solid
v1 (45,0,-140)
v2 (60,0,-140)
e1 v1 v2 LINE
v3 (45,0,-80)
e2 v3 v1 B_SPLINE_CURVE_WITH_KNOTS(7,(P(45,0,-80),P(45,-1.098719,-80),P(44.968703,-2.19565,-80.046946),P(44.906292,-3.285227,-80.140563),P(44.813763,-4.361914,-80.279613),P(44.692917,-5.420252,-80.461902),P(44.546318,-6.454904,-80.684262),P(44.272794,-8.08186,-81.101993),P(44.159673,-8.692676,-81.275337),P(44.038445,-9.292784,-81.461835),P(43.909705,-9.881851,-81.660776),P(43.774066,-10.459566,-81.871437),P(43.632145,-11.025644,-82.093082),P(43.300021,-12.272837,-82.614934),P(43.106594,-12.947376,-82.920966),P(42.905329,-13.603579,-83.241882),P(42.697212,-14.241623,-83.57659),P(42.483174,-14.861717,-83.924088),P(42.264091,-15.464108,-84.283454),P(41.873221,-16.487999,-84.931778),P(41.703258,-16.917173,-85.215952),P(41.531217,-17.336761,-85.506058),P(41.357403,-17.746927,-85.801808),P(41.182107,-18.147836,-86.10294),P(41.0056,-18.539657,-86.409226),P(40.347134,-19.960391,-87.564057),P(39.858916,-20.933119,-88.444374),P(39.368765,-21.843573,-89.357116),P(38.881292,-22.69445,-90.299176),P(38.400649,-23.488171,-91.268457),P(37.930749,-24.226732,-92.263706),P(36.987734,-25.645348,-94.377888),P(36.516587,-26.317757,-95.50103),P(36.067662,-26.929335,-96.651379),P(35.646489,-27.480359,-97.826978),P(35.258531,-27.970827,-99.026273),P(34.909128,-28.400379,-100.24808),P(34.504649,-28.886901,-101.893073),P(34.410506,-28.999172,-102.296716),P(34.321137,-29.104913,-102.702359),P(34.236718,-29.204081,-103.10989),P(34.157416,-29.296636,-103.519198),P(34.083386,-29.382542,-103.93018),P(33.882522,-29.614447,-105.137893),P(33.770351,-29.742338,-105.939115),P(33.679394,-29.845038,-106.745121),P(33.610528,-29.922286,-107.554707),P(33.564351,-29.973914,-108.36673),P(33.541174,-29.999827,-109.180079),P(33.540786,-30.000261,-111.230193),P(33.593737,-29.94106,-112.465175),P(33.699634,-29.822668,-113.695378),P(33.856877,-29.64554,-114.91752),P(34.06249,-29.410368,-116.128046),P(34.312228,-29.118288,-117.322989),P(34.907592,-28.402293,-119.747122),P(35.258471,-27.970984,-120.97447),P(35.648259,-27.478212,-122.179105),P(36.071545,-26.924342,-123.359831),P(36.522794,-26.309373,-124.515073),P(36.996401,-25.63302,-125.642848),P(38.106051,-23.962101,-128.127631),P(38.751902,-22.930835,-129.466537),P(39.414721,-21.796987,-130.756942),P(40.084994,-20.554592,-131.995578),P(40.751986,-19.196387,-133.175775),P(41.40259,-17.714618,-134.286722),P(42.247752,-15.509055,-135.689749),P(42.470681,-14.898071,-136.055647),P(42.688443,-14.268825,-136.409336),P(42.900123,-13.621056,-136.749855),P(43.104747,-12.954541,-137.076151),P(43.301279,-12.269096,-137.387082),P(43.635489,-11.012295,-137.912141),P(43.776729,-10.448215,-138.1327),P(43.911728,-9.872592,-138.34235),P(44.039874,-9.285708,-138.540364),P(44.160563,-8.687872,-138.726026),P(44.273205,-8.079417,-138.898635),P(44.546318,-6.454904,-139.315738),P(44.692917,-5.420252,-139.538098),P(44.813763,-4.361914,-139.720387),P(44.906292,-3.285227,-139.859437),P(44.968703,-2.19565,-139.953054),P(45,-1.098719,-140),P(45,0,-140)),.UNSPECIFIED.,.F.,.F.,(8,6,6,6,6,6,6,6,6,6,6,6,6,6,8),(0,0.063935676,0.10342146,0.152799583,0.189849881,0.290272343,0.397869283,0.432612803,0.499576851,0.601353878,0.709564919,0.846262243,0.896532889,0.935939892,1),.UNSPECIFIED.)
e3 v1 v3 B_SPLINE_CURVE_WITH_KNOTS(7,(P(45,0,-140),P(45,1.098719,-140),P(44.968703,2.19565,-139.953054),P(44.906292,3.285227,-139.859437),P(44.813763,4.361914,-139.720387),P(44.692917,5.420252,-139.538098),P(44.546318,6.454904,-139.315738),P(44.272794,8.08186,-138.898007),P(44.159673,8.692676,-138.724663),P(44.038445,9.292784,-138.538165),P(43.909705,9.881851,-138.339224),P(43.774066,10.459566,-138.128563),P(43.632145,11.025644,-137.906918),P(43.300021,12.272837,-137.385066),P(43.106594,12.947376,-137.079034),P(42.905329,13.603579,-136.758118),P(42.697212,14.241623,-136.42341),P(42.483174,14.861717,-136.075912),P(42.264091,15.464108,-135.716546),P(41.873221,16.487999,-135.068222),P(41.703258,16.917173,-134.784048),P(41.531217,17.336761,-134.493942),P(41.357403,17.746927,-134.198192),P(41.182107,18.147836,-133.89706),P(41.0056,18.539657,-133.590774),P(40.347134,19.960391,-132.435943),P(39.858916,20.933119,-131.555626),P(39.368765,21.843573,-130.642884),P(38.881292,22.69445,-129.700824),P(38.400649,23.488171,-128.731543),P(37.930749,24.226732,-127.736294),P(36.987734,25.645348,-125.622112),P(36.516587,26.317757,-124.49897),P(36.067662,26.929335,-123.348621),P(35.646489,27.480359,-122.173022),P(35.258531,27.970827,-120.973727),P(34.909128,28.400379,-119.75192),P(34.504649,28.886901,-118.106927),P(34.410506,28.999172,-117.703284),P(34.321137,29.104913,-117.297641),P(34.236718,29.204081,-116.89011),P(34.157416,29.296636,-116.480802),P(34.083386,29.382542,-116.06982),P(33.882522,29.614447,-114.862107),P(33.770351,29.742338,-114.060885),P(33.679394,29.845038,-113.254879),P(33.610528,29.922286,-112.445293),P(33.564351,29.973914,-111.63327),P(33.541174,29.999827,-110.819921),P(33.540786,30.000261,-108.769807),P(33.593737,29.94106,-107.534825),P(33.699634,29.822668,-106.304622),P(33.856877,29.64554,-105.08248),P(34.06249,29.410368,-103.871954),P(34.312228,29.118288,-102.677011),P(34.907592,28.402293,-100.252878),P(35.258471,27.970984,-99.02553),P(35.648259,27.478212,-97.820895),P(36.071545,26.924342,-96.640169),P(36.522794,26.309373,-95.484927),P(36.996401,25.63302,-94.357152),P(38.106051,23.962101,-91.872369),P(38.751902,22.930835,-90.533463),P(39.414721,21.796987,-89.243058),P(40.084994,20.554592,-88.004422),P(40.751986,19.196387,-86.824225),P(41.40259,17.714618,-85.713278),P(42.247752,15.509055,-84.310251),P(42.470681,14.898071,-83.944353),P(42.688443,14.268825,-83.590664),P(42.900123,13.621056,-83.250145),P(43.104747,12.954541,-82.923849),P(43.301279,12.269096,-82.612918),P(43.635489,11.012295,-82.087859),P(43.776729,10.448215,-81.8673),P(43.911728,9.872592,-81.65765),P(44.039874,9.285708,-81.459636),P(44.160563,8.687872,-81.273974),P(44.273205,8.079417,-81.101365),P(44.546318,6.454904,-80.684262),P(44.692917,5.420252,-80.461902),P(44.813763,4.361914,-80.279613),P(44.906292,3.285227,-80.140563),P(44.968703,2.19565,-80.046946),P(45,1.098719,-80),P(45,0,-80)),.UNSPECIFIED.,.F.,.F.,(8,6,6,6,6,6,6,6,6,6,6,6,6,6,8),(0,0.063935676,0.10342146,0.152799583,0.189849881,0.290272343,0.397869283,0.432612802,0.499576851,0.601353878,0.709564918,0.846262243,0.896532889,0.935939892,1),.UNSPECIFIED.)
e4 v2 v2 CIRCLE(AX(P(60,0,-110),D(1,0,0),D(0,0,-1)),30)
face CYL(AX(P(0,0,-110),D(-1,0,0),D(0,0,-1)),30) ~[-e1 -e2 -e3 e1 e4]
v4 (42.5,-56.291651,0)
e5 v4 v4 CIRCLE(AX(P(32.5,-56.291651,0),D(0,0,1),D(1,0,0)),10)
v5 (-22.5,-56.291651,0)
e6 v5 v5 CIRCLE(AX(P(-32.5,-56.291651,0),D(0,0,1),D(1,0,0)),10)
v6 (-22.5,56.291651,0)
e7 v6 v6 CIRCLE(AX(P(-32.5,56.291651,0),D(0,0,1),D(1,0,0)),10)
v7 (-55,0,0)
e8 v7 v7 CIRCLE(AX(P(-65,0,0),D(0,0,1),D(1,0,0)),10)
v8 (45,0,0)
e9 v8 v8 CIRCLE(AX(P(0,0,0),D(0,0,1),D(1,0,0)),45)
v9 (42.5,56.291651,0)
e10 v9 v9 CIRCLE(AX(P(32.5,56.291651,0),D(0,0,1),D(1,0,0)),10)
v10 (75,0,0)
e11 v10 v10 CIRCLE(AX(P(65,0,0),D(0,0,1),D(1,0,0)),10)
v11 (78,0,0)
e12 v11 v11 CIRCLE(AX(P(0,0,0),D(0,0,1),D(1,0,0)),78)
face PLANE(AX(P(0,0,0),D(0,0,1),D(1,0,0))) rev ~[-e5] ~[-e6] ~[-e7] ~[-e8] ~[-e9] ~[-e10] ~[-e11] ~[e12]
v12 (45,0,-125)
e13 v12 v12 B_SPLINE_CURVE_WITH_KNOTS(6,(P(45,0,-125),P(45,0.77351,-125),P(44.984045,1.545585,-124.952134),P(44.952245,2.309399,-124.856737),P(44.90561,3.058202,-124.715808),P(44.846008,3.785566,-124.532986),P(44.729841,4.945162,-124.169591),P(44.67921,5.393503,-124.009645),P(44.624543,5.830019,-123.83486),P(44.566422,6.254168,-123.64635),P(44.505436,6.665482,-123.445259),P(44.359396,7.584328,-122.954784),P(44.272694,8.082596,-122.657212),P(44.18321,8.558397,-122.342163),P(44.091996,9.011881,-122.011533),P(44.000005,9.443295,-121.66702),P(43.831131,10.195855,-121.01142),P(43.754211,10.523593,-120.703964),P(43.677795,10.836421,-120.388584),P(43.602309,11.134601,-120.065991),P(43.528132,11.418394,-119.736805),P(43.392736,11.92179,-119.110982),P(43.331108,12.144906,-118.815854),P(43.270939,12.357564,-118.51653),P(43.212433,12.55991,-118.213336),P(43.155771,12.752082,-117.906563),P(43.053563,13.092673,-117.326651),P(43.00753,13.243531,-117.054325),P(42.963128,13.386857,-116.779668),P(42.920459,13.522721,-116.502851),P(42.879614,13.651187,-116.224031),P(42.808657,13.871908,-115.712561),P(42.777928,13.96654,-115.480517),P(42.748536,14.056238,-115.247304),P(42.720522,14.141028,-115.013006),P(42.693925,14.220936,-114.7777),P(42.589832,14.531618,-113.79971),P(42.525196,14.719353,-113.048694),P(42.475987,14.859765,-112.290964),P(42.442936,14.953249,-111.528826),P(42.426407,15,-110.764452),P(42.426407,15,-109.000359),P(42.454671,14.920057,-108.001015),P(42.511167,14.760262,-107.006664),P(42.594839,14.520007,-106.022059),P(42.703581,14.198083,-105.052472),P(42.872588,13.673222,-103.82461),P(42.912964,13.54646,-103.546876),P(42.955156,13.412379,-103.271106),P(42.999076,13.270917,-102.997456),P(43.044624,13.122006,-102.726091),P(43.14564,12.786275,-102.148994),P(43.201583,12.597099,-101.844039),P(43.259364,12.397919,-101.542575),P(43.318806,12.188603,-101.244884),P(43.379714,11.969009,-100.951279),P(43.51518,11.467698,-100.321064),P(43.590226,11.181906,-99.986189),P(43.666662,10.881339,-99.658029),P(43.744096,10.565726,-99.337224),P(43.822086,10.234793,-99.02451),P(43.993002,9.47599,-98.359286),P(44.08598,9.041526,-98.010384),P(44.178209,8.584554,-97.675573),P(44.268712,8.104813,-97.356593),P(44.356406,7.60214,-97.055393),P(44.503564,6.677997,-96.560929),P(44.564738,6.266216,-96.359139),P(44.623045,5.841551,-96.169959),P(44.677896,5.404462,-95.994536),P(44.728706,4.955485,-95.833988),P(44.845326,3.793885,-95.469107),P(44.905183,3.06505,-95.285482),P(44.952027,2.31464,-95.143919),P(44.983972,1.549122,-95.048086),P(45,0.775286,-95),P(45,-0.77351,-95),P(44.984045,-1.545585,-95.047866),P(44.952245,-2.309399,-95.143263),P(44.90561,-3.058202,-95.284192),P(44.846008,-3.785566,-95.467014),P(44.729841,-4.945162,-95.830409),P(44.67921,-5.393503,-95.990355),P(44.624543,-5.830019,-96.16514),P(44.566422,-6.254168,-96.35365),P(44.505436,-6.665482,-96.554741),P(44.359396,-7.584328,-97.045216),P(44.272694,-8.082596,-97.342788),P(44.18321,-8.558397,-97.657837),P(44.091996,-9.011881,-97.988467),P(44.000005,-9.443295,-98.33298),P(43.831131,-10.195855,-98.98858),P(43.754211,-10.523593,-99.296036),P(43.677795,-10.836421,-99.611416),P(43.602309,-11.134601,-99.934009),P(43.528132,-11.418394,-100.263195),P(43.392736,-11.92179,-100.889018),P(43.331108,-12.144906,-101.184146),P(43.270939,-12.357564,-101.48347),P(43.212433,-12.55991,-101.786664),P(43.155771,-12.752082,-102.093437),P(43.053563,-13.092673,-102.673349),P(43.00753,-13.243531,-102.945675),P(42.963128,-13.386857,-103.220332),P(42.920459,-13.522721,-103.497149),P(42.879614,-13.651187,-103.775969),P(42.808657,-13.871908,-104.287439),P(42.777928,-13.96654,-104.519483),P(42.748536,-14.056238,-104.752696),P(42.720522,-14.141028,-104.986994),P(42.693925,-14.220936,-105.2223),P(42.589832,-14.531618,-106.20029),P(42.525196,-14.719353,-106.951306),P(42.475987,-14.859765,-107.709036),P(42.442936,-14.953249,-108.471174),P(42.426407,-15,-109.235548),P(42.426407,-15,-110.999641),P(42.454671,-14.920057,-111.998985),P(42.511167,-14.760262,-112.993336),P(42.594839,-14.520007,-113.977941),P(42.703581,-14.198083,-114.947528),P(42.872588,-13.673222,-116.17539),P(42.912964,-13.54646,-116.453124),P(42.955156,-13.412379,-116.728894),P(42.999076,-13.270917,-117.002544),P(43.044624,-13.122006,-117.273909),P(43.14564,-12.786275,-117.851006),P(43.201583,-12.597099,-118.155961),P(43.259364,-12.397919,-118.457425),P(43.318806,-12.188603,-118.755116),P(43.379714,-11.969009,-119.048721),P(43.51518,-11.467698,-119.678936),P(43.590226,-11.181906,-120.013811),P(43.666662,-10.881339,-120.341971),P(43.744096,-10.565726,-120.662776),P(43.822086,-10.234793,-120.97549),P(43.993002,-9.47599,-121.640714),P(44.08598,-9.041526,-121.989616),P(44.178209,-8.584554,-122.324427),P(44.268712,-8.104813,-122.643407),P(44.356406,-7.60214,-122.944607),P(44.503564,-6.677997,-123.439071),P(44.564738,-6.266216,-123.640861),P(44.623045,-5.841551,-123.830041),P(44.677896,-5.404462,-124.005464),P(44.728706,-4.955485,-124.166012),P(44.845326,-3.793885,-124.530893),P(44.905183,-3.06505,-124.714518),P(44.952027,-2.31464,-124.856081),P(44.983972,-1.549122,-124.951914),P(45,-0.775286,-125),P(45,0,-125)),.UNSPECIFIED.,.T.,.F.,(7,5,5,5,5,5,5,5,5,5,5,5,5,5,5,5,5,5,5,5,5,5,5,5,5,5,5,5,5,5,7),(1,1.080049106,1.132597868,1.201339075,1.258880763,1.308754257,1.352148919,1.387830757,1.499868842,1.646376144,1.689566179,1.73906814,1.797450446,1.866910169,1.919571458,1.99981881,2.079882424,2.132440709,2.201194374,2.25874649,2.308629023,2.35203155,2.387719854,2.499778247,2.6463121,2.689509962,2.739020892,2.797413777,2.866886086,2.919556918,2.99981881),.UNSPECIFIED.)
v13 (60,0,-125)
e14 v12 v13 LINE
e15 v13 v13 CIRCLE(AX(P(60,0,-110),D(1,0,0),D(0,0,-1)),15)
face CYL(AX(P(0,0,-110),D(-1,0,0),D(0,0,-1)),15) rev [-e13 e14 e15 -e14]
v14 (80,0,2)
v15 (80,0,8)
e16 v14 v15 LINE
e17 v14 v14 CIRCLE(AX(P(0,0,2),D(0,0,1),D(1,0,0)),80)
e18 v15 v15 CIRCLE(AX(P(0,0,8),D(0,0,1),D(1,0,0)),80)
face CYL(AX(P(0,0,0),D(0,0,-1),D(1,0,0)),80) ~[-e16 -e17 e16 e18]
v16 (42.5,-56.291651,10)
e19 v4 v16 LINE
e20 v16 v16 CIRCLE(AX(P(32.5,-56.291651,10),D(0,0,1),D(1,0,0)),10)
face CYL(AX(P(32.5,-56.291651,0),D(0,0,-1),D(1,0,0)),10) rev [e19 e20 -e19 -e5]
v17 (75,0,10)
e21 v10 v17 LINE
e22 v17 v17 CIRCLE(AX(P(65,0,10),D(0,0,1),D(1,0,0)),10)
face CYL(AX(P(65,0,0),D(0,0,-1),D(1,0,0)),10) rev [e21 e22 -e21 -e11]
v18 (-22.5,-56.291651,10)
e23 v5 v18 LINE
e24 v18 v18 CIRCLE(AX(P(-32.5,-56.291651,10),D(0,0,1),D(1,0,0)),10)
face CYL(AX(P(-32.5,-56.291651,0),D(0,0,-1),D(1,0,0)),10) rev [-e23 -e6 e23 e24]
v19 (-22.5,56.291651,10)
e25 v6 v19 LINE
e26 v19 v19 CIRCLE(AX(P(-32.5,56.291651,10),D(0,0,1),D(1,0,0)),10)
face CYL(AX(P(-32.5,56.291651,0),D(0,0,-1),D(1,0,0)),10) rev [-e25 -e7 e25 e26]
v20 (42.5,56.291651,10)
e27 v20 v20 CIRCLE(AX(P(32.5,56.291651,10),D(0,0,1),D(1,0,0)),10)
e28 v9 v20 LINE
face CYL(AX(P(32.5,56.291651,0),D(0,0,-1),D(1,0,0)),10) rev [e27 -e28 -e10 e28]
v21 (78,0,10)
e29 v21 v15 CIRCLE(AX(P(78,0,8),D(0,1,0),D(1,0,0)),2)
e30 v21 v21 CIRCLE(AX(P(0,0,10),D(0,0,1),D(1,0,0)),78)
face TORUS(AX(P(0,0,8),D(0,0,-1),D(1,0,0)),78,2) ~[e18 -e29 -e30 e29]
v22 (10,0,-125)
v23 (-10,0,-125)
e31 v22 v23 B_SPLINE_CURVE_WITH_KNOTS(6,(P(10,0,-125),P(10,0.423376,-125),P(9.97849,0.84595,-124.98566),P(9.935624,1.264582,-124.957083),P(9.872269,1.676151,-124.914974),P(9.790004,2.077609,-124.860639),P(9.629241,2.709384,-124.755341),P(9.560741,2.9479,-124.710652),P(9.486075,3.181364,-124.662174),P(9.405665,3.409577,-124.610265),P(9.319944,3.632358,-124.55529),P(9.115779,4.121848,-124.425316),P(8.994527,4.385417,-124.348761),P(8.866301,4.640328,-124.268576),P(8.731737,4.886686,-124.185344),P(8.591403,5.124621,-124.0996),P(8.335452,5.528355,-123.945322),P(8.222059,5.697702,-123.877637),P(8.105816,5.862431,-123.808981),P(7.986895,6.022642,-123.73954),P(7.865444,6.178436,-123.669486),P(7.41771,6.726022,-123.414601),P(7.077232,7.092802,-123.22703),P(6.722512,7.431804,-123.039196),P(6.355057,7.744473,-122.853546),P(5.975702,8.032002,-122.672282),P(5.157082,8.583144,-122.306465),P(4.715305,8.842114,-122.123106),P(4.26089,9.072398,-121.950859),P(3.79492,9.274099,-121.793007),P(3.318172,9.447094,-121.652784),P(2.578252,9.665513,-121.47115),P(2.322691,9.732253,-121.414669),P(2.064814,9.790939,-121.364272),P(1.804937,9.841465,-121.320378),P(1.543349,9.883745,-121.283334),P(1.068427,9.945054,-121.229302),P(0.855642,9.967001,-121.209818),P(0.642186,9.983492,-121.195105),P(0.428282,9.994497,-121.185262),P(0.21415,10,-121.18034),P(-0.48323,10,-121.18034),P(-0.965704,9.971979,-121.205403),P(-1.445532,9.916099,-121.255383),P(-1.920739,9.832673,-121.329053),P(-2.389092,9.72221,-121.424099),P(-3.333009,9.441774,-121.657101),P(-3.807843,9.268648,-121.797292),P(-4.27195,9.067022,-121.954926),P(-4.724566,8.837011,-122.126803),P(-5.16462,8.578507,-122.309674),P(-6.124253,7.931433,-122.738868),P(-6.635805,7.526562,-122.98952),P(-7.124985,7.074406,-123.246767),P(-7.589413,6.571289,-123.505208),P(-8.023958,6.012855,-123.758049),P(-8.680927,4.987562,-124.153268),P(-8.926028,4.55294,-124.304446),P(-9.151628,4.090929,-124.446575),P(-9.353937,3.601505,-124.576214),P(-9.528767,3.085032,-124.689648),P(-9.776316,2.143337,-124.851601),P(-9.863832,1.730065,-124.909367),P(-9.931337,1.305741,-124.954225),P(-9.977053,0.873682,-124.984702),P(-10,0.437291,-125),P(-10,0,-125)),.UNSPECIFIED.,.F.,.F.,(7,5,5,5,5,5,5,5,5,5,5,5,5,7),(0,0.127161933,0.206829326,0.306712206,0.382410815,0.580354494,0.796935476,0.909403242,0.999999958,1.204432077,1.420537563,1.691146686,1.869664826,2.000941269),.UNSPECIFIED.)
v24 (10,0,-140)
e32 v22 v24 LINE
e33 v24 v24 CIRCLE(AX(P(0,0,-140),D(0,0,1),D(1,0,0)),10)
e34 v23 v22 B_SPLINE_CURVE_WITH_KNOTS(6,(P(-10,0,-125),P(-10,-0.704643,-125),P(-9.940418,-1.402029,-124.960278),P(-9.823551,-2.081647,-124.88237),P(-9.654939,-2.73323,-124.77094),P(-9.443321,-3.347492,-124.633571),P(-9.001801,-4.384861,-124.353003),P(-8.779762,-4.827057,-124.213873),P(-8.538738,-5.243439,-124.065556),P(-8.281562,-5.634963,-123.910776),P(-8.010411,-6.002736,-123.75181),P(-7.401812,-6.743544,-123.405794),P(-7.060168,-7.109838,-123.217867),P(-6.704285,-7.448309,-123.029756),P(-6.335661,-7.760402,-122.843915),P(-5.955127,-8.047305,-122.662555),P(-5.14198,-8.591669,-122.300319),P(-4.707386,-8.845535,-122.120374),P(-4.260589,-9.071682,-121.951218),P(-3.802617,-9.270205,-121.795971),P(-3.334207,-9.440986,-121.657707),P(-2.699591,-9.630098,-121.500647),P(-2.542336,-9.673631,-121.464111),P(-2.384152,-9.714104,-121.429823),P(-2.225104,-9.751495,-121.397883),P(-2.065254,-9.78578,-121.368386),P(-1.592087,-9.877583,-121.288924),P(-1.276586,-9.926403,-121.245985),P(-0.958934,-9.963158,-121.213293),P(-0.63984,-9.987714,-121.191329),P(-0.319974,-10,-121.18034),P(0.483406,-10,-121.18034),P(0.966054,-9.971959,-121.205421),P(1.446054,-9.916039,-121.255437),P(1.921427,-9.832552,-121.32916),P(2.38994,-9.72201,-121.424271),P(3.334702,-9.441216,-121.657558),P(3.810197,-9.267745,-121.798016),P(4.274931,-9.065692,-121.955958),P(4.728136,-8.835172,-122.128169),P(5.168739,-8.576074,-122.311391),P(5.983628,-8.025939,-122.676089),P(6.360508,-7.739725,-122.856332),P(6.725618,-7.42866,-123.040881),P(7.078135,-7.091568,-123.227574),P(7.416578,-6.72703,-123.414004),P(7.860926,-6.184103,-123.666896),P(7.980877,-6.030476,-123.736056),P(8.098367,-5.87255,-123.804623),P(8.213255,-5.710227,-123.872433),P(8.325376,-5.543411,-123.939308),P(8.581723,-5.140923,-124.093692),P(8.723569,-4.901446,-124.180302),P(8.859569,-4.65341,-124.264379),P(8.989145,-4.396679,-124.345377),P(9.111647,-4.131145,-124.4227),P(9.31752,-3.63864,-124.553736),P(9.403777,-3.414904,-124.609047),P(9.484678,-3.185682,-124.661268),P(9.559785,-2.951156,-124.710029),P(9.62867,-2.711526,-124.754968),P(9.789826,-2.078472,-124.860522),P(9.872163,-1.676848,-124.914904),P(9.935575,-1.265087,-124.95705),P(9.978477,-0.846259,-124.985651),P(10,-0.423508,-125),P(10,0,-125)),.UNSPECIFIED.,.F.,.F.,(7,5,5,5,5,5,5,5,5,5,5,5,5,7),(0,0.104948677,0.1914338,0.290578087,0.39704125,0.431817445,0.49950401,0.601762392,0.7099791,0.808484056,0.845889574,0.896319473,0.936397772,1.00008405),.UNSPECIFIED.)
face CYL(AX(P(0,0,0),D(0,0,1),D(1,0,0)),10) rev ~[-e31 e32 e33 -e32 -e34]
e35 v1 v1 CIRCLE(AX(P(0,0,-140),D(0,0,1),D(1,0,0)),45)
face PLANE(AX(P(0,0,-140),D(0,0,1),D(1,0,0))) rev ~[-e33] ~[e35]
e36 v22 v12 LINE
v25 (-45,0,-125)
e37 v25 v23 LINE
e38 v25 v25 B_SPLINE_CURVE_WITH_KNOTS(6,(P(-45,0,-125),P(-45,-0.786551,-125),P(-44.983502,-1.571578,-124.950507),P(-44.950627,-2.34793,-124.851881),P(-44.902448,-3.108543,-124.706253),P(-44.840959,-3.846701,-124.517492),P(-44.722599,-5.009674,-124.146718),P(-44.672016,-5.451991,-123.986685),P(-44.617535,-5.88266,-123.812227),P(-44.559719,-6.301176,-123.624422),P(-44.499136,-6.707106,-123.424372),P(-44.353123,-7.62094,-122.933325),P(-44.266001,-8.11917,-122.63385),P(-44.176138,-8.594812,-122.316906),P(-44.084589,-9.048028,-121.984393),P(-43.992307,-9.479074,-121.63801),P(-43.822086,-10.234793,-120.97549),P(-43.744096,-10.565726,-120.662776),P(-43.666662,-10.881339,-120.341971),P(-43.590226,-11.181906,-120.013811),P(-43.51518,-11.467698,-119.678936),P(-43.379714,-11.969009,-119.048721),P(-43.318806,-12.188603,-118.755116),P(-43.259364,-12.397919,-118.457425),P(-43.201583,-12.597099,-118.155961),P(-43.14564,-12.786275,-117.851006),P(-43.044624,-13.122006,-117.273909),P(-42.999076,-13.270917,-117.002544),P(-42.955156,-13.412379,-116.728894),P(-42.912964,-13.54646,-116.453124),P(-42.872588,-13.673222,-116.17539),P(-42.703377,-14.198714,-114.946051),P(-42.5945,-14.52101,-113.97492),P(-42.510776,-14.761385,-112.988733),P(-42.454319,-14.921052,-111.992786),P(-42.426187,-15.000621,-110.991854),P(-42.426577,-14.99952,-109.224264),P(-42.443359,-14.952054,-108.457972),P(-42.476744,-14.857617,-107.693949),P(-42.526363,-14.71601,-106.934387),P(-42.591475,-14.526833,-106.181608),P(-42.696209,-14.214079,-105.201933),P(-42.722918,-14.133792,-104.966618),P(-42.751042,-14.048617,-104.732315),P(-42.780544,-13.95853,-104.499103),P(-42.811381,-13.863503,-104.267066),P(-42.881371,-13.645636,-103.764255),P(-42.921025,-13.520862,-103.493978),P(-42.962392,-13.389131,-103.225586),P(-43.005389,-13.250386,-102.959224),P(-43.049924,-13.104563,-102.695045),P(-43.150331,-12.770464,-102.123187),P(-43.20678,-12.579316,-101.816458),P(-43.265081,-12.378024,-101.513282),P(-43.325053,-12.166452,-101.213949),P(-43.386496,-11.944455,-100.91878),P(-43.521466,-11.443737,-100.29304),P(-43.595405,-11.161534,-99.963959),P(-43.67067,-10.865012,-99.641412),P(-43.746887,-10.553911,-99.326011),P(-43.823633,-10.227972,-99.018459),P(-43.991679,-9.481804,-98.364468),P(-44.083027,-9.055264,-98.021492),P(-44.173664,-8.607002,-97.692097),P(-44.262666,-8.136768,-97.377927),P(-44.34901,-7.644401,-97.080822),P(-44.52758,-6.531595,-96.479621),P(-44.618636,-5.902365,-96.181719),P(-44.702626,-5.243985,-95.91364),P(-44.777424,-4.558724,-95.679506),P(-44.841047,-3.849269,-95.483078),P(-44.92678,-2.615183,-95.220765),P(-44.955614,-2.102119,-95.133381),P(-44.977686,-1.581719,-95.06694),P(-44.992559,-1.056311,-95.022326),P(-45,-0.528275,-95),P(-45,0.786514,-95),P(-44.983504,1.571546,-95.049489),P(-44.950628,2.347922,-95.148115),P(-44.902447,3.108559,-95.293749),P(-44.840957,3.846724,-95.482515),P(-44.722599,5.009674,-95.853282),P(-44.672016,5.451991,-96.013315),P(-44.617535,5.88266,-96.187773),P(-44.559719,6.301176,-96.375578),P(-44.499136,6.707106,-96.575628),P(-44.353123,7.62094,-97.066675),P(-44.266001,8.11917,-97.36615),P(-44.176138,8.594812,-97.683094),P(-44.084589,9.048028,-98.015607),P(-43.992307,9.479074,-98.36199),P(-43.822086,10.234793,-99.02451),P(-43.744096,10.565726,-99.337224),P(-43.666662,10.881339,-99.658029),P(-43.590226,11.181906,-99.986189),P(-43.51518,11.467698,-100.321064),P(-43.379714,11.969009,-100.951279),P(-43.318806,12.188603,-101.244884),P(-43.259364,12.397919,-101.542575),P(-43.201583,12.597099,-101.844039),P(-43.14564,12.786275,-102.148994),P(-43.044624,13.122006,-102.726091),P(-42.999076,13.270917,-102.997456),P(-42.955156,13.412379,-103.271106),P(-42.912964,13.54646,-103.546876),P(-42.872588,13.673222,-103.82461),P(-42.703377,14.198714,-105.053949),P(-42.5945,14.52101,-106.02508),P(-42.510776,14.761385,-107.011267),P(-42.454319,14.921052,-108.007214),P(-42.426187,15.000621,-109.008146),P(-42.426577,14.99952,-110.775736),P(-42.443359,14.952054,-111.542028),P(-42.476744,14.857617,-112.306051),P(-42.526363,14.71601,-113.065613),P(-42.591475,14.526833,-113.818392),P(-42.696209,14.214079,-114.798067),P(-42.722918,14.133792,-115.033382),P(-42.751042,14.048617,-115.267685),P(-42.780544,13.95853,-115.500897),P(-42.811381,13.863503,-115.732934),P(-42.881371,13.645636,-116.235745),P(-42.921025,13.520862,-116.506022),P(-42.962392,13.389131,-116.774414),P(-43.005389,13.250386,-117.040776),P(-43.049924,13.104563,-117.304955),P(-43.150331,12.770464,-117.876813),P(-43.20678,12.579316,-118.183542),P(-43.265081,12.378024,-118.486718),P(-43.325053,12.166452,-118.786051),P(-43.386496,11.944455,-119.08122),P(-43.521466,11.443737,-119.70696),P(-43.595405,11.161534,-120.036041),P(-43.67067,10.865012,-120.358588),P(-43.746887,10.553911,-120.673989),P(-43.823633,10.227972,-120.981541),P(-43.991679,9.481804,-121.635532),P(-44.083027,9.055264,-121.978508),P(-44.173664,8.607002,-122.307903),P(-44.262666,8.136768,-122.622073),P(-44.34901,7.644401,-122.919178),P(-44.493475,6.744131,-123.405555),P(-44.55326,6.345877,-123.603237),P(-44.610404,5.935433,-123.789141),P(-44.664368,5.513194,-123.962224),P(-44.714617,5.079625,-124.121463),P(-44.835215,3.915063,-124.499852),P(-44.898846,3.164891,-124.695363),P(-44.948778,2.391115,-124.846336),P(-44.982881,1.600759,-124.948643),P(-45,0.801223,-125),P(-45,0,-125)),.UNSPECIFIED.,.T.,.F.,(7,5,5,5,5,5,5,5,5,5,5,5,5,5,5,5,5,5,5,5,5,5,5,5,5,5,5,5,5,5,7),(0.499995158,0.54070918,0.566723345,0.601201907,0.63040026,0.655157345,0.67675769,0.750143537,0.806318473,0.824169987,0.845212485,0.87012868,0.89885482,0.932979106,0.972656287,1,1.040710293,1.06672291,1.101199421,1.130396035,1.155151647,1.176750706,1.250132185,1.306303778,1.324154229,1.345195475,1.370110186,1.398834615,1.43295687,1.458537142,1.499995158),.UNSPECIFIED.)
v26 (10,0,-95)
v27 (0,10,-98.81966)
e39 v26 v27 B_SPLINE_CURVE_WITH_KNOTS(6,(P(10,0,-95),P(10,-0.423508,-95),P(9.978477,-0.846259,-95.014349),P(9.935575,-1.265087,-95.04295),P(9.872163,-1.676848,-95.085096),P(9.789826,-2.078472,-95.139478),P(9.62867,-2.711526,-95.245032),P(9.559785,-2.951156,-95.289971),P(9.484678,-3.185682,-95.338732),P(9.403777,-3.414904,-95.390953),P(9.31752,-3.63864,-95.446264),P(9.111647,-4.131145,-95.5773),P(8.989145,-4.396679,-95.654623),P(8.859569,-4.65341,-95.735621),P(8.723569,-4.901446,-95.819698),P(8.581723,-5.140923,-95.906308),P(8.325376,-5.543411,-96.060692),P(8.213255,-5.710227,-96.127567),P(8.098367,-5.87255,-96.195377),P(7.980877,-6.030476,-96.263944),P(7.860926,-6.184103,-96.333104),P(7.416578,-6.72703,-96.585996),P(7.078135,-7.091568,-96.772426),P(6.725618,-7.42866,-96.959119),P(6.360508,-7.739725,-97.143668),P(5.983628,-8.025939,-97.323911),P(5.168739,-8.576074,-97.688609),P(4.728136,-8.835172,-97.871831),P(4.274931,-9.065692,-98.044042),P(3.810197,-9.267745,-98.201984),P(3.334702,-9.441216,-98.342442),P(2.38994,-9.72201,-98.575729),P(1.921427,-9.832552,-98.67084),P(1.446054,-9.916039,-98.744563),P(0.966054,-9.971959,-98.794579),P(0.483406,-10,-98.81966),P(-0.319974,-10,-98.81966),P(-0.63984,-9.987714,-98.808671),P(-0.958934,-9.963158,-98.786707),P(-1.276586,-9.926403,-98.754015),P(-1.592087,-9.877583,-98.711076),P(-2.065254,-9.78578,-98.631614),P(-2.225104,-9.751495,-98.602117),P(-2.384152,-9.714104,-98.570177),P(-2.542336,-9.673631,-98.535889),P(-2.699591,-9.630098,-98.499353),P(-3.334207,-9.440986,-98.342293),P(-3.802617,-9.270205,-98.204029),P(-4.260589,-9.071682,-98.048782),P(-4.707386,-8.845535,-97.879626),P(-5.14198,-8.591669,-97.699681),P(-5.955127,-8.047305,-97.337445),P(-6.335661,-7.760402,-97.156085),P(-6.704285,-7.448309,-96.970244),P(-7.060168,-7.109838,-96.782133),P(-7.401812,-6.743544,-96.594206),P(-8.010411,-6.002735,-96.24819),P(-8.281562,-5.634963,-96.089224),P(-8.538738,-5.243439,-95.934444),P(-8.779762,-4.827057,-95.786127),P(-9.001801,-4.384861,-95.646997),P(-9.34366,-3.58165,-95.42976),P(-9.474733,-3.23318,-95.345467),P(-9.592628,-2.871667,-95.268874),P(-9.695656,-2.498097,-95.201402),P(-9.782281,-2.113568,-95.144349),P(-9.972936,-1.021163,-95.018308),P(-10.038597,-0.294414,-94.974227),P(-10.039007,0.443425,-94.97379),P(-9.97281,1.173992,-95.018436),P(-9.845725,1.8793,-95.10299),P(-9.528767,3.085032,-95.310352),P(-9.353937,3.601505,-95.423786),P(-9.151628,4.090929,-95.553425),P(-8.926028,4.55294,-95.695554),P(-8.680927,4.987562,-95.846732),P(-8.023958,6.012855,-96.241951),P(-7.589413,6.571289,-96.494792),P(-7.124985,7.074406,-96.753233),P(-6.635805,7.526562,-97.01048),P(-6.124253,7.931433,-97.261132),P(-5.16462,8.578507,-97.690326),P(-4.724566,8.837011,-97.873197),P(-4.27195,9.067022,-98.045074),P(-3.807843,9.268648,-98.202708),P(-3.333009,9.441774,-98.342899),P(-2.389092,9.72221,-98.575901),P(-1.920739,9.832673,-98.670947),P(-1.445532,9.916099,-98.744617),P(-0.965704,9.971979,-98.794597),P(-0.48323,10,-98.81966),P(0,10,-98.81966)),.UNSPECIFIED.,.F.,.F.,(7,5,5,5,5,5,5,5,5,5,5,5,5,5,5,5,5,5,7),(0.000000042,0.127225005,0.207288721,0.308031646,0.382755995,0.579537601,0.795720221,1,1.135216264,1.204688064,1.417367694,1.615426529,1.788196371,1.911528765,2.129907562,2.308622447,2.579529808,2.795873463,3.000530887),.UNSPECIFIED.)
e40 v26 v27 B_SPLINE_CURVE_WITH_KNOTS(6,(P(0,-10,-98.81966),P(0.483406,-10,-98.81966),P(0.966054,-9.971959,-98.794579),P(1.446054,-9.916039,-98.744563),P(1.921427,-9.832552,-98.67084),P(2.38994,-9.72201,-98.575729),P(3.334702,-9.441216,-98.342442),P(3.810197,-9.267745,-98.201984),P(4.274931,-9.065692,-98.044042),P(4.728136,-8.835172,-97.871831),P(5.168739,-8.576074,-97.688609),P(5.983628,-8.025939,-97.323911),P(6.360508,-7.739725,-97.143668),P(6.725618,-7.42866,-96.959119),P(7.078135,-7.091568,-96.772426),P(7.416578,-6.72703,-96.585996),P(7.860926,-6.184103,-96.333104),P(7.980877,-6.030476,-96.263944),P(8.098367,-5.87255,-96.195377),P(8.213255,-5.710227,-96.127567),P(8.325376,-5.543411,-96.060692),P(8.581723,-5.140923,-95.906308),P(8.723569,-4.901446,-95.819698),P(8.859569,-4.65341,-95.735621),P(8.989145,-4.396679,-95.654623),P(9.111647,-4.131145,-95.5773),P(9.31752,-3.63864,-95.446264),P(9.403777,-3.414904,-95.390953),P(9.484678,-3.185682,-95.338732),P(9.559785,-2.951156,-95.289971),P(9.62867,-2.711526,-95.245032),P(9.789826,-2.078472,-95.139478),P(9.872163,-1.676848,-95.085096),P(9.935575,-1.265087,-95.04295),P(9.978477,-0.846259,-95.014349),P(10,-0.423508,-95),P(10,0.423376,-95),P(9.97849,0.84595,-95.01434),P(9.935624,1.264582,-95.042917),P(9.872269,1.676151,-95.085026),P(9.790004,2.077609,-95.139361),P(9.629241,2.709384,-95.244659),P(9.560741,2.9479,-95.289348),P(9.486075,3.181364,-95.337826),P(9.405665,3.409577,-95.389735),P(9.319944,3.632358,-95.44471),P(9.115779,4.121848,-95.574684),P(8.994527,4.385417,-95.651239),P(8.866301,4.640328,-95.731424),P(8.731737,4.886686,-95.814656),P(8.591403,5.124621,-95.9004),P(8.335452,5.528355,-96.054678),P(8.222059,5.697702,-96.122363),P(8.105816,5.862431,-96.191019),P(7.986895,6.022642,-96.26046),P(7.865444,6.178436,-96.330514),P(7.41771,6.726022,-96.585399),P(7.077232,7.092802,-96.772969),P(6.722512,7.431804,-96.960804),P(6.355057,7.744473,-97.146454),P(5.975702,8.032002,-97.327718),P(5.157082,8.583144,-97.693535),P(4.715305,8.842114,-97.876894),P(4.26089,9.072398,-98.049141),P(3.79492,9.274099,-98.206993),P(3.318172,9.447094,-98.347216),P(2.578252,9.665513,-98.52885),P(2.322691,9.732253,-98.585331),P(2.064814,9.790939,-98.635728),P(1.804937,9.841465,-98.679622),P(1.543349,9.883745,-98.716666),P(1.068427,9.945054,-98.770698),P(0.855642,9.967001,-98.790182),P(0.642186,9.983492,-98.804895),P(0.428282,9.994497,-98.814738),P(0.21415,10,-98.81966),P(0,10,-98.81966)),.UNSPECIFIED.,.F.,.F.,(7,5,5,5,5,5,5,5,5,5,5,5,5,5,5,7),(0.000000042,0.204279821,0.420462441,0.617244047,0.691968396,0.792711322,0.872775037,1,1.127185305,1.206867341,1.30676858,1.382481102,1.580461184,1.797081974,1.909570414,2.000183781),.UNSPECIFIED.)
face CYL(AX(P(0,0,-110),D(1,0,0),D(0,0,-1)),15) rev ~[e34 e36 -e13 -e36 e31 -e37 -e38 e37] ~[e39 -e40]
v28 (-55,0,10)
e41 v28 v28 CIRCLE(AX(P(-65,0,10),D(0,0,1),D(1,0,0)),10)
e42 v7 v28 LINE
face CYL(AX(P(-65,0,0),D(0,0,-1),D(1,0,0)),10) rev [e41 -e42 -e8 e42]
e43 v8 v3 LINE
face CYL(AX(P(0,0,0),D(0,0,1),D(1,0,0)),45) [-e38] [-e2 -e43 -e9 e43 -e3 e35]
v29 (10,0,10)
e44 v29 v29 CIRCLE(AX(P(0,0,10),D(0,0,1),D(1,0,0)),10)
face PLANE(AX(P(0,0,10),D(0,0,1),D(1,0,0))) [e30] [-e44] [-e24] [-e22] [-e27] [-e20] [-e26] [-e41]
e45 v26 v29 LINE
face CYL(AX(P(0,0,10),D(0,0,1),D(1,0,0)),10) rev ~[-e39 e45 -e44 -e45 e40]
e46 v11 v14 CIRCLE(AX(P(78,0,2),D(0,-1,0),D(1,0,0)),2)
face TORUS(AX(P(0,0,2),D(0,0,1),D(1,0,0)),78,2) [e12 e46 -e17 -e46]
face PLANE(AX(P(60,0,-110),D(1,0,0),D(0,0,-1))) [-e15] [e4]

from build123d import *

# Parameters (mm, degrees)
SKETCH_1_R          = 80
EXTRUDE_1_DEPTH     = 10
SKETCH_2_R          = 10
CUT_EXTRUDE_1_DEPTH = 10
SKETCH_3_R          = 45
EXTRUDE_2_DEPTH     = 140
SKETCH_6_R          = 10
CUT_EXTRUDE_3_DEPTH = 181
SKETCH_7_R          = 30
SKETCH_7_R_2        = 15
EXTRUDE_3_DEPTH     = 60
SKETCH_8_R          = 15
CUT_EXTRUDE_4_DEPTH = 45
SKETCH_9_R          = 10
CUT_EXTRUDE_5_DEPTH = 200
FILLET_1_R          = 2


with BuildPart() as part:
    # 草图1 → 凸台-拉伸1 (new body)
    with BuildSketch(Plane.XY):
        Circle(SKETCH_1_R)
    extrude(amount=EXTRUDE_1_DEPTH)

    # 草图2 → 切除-拉伸1 (cut)
    with BuildSketch(Plane.XY):
        with Locations((32.5, 56.291651246)):
            Circle(SKETCH_2_R)
        with Locations((-32.5, -56.291651246)):
            Circle(SKETCH_2_R)
        with Locations((-65, 0)):
            Circle(SKETCH_2_R)
        with Locations((-32.5, 56.291651246)):
            Circle(SKETCH_2_R)
        with Locations((65, 0)):
            Circle(SKETCH_2_R)
        with Locations((32.5, -56.291651246)):
            Circle(SKETCH_2_R)
    extrude(amount=CUT_EXTRUDE_1_DEPTH, mode=Mode.SUBTRACT)

    # 草图3 → 凸台-拉伸2 (add)
    with BuildSketch(Plane.XY):
        Circle(SKETCH_3_R)
    extrude(amount=-EXTRUDE_2_DEPTH)

    # 草图6 → 切除-拉伸3 (cut, through all)
    with BuildSketch(Plane.XY):
        Circle(SKETCH_6_R)
    extrude(amount=-CUT_EXTRUDE_3_DEPTH, mode=Mode.SUBTRACT)

    # 草图7 → 凸台-拉伸3 (add)
    with BuildSketch(Plane(origin=(0, 0, 0), x_dir=(0, 0, -1), z_dir=(1, 0, 0))):
        with Locations((110, 0)):
            Circle(SKETCH_7_R)
        with Locations((110, 0)):
            Circle(SKETCH_7_R_2, mode=Mode.SUBTRACT)
    extrude(amount=EXTRUDE_3_DEPTH)

    # 草图8 → 切除-拉伸4 (cut, symmetric)
    with BuildSketch(Plane(origin=(0, 0, 0), x_dir=(0, 0, -1), z_dir=(1, 0, 0))):
        with Locations((110, 0)):
            Circle(SKETCH_8_R)
    extrude(amount=CUT_EXTRUDE_4_DEPTH, both=True, mode=Mode.SUBTRACT)

    # 草图9 → 切除-拉伸5 (cut)
    with BuildSketch(Plane.XY.offset(10)):
        Circle(SKETCH_9_R)
    extrude(amount=-CUT_EXTRUDE_5_DEPTH, mode=Mode.SUBTRACT)

    # 圆角1
    fillet_1_edges = [part.edges().sort_by_distance(p)[0] for p in [
        (-80, 0, 0),
        (-80, 0, 10),
    ]]
    fillet(fillet_1_edges, radius=FILLET_1_R)


solid = part.part
